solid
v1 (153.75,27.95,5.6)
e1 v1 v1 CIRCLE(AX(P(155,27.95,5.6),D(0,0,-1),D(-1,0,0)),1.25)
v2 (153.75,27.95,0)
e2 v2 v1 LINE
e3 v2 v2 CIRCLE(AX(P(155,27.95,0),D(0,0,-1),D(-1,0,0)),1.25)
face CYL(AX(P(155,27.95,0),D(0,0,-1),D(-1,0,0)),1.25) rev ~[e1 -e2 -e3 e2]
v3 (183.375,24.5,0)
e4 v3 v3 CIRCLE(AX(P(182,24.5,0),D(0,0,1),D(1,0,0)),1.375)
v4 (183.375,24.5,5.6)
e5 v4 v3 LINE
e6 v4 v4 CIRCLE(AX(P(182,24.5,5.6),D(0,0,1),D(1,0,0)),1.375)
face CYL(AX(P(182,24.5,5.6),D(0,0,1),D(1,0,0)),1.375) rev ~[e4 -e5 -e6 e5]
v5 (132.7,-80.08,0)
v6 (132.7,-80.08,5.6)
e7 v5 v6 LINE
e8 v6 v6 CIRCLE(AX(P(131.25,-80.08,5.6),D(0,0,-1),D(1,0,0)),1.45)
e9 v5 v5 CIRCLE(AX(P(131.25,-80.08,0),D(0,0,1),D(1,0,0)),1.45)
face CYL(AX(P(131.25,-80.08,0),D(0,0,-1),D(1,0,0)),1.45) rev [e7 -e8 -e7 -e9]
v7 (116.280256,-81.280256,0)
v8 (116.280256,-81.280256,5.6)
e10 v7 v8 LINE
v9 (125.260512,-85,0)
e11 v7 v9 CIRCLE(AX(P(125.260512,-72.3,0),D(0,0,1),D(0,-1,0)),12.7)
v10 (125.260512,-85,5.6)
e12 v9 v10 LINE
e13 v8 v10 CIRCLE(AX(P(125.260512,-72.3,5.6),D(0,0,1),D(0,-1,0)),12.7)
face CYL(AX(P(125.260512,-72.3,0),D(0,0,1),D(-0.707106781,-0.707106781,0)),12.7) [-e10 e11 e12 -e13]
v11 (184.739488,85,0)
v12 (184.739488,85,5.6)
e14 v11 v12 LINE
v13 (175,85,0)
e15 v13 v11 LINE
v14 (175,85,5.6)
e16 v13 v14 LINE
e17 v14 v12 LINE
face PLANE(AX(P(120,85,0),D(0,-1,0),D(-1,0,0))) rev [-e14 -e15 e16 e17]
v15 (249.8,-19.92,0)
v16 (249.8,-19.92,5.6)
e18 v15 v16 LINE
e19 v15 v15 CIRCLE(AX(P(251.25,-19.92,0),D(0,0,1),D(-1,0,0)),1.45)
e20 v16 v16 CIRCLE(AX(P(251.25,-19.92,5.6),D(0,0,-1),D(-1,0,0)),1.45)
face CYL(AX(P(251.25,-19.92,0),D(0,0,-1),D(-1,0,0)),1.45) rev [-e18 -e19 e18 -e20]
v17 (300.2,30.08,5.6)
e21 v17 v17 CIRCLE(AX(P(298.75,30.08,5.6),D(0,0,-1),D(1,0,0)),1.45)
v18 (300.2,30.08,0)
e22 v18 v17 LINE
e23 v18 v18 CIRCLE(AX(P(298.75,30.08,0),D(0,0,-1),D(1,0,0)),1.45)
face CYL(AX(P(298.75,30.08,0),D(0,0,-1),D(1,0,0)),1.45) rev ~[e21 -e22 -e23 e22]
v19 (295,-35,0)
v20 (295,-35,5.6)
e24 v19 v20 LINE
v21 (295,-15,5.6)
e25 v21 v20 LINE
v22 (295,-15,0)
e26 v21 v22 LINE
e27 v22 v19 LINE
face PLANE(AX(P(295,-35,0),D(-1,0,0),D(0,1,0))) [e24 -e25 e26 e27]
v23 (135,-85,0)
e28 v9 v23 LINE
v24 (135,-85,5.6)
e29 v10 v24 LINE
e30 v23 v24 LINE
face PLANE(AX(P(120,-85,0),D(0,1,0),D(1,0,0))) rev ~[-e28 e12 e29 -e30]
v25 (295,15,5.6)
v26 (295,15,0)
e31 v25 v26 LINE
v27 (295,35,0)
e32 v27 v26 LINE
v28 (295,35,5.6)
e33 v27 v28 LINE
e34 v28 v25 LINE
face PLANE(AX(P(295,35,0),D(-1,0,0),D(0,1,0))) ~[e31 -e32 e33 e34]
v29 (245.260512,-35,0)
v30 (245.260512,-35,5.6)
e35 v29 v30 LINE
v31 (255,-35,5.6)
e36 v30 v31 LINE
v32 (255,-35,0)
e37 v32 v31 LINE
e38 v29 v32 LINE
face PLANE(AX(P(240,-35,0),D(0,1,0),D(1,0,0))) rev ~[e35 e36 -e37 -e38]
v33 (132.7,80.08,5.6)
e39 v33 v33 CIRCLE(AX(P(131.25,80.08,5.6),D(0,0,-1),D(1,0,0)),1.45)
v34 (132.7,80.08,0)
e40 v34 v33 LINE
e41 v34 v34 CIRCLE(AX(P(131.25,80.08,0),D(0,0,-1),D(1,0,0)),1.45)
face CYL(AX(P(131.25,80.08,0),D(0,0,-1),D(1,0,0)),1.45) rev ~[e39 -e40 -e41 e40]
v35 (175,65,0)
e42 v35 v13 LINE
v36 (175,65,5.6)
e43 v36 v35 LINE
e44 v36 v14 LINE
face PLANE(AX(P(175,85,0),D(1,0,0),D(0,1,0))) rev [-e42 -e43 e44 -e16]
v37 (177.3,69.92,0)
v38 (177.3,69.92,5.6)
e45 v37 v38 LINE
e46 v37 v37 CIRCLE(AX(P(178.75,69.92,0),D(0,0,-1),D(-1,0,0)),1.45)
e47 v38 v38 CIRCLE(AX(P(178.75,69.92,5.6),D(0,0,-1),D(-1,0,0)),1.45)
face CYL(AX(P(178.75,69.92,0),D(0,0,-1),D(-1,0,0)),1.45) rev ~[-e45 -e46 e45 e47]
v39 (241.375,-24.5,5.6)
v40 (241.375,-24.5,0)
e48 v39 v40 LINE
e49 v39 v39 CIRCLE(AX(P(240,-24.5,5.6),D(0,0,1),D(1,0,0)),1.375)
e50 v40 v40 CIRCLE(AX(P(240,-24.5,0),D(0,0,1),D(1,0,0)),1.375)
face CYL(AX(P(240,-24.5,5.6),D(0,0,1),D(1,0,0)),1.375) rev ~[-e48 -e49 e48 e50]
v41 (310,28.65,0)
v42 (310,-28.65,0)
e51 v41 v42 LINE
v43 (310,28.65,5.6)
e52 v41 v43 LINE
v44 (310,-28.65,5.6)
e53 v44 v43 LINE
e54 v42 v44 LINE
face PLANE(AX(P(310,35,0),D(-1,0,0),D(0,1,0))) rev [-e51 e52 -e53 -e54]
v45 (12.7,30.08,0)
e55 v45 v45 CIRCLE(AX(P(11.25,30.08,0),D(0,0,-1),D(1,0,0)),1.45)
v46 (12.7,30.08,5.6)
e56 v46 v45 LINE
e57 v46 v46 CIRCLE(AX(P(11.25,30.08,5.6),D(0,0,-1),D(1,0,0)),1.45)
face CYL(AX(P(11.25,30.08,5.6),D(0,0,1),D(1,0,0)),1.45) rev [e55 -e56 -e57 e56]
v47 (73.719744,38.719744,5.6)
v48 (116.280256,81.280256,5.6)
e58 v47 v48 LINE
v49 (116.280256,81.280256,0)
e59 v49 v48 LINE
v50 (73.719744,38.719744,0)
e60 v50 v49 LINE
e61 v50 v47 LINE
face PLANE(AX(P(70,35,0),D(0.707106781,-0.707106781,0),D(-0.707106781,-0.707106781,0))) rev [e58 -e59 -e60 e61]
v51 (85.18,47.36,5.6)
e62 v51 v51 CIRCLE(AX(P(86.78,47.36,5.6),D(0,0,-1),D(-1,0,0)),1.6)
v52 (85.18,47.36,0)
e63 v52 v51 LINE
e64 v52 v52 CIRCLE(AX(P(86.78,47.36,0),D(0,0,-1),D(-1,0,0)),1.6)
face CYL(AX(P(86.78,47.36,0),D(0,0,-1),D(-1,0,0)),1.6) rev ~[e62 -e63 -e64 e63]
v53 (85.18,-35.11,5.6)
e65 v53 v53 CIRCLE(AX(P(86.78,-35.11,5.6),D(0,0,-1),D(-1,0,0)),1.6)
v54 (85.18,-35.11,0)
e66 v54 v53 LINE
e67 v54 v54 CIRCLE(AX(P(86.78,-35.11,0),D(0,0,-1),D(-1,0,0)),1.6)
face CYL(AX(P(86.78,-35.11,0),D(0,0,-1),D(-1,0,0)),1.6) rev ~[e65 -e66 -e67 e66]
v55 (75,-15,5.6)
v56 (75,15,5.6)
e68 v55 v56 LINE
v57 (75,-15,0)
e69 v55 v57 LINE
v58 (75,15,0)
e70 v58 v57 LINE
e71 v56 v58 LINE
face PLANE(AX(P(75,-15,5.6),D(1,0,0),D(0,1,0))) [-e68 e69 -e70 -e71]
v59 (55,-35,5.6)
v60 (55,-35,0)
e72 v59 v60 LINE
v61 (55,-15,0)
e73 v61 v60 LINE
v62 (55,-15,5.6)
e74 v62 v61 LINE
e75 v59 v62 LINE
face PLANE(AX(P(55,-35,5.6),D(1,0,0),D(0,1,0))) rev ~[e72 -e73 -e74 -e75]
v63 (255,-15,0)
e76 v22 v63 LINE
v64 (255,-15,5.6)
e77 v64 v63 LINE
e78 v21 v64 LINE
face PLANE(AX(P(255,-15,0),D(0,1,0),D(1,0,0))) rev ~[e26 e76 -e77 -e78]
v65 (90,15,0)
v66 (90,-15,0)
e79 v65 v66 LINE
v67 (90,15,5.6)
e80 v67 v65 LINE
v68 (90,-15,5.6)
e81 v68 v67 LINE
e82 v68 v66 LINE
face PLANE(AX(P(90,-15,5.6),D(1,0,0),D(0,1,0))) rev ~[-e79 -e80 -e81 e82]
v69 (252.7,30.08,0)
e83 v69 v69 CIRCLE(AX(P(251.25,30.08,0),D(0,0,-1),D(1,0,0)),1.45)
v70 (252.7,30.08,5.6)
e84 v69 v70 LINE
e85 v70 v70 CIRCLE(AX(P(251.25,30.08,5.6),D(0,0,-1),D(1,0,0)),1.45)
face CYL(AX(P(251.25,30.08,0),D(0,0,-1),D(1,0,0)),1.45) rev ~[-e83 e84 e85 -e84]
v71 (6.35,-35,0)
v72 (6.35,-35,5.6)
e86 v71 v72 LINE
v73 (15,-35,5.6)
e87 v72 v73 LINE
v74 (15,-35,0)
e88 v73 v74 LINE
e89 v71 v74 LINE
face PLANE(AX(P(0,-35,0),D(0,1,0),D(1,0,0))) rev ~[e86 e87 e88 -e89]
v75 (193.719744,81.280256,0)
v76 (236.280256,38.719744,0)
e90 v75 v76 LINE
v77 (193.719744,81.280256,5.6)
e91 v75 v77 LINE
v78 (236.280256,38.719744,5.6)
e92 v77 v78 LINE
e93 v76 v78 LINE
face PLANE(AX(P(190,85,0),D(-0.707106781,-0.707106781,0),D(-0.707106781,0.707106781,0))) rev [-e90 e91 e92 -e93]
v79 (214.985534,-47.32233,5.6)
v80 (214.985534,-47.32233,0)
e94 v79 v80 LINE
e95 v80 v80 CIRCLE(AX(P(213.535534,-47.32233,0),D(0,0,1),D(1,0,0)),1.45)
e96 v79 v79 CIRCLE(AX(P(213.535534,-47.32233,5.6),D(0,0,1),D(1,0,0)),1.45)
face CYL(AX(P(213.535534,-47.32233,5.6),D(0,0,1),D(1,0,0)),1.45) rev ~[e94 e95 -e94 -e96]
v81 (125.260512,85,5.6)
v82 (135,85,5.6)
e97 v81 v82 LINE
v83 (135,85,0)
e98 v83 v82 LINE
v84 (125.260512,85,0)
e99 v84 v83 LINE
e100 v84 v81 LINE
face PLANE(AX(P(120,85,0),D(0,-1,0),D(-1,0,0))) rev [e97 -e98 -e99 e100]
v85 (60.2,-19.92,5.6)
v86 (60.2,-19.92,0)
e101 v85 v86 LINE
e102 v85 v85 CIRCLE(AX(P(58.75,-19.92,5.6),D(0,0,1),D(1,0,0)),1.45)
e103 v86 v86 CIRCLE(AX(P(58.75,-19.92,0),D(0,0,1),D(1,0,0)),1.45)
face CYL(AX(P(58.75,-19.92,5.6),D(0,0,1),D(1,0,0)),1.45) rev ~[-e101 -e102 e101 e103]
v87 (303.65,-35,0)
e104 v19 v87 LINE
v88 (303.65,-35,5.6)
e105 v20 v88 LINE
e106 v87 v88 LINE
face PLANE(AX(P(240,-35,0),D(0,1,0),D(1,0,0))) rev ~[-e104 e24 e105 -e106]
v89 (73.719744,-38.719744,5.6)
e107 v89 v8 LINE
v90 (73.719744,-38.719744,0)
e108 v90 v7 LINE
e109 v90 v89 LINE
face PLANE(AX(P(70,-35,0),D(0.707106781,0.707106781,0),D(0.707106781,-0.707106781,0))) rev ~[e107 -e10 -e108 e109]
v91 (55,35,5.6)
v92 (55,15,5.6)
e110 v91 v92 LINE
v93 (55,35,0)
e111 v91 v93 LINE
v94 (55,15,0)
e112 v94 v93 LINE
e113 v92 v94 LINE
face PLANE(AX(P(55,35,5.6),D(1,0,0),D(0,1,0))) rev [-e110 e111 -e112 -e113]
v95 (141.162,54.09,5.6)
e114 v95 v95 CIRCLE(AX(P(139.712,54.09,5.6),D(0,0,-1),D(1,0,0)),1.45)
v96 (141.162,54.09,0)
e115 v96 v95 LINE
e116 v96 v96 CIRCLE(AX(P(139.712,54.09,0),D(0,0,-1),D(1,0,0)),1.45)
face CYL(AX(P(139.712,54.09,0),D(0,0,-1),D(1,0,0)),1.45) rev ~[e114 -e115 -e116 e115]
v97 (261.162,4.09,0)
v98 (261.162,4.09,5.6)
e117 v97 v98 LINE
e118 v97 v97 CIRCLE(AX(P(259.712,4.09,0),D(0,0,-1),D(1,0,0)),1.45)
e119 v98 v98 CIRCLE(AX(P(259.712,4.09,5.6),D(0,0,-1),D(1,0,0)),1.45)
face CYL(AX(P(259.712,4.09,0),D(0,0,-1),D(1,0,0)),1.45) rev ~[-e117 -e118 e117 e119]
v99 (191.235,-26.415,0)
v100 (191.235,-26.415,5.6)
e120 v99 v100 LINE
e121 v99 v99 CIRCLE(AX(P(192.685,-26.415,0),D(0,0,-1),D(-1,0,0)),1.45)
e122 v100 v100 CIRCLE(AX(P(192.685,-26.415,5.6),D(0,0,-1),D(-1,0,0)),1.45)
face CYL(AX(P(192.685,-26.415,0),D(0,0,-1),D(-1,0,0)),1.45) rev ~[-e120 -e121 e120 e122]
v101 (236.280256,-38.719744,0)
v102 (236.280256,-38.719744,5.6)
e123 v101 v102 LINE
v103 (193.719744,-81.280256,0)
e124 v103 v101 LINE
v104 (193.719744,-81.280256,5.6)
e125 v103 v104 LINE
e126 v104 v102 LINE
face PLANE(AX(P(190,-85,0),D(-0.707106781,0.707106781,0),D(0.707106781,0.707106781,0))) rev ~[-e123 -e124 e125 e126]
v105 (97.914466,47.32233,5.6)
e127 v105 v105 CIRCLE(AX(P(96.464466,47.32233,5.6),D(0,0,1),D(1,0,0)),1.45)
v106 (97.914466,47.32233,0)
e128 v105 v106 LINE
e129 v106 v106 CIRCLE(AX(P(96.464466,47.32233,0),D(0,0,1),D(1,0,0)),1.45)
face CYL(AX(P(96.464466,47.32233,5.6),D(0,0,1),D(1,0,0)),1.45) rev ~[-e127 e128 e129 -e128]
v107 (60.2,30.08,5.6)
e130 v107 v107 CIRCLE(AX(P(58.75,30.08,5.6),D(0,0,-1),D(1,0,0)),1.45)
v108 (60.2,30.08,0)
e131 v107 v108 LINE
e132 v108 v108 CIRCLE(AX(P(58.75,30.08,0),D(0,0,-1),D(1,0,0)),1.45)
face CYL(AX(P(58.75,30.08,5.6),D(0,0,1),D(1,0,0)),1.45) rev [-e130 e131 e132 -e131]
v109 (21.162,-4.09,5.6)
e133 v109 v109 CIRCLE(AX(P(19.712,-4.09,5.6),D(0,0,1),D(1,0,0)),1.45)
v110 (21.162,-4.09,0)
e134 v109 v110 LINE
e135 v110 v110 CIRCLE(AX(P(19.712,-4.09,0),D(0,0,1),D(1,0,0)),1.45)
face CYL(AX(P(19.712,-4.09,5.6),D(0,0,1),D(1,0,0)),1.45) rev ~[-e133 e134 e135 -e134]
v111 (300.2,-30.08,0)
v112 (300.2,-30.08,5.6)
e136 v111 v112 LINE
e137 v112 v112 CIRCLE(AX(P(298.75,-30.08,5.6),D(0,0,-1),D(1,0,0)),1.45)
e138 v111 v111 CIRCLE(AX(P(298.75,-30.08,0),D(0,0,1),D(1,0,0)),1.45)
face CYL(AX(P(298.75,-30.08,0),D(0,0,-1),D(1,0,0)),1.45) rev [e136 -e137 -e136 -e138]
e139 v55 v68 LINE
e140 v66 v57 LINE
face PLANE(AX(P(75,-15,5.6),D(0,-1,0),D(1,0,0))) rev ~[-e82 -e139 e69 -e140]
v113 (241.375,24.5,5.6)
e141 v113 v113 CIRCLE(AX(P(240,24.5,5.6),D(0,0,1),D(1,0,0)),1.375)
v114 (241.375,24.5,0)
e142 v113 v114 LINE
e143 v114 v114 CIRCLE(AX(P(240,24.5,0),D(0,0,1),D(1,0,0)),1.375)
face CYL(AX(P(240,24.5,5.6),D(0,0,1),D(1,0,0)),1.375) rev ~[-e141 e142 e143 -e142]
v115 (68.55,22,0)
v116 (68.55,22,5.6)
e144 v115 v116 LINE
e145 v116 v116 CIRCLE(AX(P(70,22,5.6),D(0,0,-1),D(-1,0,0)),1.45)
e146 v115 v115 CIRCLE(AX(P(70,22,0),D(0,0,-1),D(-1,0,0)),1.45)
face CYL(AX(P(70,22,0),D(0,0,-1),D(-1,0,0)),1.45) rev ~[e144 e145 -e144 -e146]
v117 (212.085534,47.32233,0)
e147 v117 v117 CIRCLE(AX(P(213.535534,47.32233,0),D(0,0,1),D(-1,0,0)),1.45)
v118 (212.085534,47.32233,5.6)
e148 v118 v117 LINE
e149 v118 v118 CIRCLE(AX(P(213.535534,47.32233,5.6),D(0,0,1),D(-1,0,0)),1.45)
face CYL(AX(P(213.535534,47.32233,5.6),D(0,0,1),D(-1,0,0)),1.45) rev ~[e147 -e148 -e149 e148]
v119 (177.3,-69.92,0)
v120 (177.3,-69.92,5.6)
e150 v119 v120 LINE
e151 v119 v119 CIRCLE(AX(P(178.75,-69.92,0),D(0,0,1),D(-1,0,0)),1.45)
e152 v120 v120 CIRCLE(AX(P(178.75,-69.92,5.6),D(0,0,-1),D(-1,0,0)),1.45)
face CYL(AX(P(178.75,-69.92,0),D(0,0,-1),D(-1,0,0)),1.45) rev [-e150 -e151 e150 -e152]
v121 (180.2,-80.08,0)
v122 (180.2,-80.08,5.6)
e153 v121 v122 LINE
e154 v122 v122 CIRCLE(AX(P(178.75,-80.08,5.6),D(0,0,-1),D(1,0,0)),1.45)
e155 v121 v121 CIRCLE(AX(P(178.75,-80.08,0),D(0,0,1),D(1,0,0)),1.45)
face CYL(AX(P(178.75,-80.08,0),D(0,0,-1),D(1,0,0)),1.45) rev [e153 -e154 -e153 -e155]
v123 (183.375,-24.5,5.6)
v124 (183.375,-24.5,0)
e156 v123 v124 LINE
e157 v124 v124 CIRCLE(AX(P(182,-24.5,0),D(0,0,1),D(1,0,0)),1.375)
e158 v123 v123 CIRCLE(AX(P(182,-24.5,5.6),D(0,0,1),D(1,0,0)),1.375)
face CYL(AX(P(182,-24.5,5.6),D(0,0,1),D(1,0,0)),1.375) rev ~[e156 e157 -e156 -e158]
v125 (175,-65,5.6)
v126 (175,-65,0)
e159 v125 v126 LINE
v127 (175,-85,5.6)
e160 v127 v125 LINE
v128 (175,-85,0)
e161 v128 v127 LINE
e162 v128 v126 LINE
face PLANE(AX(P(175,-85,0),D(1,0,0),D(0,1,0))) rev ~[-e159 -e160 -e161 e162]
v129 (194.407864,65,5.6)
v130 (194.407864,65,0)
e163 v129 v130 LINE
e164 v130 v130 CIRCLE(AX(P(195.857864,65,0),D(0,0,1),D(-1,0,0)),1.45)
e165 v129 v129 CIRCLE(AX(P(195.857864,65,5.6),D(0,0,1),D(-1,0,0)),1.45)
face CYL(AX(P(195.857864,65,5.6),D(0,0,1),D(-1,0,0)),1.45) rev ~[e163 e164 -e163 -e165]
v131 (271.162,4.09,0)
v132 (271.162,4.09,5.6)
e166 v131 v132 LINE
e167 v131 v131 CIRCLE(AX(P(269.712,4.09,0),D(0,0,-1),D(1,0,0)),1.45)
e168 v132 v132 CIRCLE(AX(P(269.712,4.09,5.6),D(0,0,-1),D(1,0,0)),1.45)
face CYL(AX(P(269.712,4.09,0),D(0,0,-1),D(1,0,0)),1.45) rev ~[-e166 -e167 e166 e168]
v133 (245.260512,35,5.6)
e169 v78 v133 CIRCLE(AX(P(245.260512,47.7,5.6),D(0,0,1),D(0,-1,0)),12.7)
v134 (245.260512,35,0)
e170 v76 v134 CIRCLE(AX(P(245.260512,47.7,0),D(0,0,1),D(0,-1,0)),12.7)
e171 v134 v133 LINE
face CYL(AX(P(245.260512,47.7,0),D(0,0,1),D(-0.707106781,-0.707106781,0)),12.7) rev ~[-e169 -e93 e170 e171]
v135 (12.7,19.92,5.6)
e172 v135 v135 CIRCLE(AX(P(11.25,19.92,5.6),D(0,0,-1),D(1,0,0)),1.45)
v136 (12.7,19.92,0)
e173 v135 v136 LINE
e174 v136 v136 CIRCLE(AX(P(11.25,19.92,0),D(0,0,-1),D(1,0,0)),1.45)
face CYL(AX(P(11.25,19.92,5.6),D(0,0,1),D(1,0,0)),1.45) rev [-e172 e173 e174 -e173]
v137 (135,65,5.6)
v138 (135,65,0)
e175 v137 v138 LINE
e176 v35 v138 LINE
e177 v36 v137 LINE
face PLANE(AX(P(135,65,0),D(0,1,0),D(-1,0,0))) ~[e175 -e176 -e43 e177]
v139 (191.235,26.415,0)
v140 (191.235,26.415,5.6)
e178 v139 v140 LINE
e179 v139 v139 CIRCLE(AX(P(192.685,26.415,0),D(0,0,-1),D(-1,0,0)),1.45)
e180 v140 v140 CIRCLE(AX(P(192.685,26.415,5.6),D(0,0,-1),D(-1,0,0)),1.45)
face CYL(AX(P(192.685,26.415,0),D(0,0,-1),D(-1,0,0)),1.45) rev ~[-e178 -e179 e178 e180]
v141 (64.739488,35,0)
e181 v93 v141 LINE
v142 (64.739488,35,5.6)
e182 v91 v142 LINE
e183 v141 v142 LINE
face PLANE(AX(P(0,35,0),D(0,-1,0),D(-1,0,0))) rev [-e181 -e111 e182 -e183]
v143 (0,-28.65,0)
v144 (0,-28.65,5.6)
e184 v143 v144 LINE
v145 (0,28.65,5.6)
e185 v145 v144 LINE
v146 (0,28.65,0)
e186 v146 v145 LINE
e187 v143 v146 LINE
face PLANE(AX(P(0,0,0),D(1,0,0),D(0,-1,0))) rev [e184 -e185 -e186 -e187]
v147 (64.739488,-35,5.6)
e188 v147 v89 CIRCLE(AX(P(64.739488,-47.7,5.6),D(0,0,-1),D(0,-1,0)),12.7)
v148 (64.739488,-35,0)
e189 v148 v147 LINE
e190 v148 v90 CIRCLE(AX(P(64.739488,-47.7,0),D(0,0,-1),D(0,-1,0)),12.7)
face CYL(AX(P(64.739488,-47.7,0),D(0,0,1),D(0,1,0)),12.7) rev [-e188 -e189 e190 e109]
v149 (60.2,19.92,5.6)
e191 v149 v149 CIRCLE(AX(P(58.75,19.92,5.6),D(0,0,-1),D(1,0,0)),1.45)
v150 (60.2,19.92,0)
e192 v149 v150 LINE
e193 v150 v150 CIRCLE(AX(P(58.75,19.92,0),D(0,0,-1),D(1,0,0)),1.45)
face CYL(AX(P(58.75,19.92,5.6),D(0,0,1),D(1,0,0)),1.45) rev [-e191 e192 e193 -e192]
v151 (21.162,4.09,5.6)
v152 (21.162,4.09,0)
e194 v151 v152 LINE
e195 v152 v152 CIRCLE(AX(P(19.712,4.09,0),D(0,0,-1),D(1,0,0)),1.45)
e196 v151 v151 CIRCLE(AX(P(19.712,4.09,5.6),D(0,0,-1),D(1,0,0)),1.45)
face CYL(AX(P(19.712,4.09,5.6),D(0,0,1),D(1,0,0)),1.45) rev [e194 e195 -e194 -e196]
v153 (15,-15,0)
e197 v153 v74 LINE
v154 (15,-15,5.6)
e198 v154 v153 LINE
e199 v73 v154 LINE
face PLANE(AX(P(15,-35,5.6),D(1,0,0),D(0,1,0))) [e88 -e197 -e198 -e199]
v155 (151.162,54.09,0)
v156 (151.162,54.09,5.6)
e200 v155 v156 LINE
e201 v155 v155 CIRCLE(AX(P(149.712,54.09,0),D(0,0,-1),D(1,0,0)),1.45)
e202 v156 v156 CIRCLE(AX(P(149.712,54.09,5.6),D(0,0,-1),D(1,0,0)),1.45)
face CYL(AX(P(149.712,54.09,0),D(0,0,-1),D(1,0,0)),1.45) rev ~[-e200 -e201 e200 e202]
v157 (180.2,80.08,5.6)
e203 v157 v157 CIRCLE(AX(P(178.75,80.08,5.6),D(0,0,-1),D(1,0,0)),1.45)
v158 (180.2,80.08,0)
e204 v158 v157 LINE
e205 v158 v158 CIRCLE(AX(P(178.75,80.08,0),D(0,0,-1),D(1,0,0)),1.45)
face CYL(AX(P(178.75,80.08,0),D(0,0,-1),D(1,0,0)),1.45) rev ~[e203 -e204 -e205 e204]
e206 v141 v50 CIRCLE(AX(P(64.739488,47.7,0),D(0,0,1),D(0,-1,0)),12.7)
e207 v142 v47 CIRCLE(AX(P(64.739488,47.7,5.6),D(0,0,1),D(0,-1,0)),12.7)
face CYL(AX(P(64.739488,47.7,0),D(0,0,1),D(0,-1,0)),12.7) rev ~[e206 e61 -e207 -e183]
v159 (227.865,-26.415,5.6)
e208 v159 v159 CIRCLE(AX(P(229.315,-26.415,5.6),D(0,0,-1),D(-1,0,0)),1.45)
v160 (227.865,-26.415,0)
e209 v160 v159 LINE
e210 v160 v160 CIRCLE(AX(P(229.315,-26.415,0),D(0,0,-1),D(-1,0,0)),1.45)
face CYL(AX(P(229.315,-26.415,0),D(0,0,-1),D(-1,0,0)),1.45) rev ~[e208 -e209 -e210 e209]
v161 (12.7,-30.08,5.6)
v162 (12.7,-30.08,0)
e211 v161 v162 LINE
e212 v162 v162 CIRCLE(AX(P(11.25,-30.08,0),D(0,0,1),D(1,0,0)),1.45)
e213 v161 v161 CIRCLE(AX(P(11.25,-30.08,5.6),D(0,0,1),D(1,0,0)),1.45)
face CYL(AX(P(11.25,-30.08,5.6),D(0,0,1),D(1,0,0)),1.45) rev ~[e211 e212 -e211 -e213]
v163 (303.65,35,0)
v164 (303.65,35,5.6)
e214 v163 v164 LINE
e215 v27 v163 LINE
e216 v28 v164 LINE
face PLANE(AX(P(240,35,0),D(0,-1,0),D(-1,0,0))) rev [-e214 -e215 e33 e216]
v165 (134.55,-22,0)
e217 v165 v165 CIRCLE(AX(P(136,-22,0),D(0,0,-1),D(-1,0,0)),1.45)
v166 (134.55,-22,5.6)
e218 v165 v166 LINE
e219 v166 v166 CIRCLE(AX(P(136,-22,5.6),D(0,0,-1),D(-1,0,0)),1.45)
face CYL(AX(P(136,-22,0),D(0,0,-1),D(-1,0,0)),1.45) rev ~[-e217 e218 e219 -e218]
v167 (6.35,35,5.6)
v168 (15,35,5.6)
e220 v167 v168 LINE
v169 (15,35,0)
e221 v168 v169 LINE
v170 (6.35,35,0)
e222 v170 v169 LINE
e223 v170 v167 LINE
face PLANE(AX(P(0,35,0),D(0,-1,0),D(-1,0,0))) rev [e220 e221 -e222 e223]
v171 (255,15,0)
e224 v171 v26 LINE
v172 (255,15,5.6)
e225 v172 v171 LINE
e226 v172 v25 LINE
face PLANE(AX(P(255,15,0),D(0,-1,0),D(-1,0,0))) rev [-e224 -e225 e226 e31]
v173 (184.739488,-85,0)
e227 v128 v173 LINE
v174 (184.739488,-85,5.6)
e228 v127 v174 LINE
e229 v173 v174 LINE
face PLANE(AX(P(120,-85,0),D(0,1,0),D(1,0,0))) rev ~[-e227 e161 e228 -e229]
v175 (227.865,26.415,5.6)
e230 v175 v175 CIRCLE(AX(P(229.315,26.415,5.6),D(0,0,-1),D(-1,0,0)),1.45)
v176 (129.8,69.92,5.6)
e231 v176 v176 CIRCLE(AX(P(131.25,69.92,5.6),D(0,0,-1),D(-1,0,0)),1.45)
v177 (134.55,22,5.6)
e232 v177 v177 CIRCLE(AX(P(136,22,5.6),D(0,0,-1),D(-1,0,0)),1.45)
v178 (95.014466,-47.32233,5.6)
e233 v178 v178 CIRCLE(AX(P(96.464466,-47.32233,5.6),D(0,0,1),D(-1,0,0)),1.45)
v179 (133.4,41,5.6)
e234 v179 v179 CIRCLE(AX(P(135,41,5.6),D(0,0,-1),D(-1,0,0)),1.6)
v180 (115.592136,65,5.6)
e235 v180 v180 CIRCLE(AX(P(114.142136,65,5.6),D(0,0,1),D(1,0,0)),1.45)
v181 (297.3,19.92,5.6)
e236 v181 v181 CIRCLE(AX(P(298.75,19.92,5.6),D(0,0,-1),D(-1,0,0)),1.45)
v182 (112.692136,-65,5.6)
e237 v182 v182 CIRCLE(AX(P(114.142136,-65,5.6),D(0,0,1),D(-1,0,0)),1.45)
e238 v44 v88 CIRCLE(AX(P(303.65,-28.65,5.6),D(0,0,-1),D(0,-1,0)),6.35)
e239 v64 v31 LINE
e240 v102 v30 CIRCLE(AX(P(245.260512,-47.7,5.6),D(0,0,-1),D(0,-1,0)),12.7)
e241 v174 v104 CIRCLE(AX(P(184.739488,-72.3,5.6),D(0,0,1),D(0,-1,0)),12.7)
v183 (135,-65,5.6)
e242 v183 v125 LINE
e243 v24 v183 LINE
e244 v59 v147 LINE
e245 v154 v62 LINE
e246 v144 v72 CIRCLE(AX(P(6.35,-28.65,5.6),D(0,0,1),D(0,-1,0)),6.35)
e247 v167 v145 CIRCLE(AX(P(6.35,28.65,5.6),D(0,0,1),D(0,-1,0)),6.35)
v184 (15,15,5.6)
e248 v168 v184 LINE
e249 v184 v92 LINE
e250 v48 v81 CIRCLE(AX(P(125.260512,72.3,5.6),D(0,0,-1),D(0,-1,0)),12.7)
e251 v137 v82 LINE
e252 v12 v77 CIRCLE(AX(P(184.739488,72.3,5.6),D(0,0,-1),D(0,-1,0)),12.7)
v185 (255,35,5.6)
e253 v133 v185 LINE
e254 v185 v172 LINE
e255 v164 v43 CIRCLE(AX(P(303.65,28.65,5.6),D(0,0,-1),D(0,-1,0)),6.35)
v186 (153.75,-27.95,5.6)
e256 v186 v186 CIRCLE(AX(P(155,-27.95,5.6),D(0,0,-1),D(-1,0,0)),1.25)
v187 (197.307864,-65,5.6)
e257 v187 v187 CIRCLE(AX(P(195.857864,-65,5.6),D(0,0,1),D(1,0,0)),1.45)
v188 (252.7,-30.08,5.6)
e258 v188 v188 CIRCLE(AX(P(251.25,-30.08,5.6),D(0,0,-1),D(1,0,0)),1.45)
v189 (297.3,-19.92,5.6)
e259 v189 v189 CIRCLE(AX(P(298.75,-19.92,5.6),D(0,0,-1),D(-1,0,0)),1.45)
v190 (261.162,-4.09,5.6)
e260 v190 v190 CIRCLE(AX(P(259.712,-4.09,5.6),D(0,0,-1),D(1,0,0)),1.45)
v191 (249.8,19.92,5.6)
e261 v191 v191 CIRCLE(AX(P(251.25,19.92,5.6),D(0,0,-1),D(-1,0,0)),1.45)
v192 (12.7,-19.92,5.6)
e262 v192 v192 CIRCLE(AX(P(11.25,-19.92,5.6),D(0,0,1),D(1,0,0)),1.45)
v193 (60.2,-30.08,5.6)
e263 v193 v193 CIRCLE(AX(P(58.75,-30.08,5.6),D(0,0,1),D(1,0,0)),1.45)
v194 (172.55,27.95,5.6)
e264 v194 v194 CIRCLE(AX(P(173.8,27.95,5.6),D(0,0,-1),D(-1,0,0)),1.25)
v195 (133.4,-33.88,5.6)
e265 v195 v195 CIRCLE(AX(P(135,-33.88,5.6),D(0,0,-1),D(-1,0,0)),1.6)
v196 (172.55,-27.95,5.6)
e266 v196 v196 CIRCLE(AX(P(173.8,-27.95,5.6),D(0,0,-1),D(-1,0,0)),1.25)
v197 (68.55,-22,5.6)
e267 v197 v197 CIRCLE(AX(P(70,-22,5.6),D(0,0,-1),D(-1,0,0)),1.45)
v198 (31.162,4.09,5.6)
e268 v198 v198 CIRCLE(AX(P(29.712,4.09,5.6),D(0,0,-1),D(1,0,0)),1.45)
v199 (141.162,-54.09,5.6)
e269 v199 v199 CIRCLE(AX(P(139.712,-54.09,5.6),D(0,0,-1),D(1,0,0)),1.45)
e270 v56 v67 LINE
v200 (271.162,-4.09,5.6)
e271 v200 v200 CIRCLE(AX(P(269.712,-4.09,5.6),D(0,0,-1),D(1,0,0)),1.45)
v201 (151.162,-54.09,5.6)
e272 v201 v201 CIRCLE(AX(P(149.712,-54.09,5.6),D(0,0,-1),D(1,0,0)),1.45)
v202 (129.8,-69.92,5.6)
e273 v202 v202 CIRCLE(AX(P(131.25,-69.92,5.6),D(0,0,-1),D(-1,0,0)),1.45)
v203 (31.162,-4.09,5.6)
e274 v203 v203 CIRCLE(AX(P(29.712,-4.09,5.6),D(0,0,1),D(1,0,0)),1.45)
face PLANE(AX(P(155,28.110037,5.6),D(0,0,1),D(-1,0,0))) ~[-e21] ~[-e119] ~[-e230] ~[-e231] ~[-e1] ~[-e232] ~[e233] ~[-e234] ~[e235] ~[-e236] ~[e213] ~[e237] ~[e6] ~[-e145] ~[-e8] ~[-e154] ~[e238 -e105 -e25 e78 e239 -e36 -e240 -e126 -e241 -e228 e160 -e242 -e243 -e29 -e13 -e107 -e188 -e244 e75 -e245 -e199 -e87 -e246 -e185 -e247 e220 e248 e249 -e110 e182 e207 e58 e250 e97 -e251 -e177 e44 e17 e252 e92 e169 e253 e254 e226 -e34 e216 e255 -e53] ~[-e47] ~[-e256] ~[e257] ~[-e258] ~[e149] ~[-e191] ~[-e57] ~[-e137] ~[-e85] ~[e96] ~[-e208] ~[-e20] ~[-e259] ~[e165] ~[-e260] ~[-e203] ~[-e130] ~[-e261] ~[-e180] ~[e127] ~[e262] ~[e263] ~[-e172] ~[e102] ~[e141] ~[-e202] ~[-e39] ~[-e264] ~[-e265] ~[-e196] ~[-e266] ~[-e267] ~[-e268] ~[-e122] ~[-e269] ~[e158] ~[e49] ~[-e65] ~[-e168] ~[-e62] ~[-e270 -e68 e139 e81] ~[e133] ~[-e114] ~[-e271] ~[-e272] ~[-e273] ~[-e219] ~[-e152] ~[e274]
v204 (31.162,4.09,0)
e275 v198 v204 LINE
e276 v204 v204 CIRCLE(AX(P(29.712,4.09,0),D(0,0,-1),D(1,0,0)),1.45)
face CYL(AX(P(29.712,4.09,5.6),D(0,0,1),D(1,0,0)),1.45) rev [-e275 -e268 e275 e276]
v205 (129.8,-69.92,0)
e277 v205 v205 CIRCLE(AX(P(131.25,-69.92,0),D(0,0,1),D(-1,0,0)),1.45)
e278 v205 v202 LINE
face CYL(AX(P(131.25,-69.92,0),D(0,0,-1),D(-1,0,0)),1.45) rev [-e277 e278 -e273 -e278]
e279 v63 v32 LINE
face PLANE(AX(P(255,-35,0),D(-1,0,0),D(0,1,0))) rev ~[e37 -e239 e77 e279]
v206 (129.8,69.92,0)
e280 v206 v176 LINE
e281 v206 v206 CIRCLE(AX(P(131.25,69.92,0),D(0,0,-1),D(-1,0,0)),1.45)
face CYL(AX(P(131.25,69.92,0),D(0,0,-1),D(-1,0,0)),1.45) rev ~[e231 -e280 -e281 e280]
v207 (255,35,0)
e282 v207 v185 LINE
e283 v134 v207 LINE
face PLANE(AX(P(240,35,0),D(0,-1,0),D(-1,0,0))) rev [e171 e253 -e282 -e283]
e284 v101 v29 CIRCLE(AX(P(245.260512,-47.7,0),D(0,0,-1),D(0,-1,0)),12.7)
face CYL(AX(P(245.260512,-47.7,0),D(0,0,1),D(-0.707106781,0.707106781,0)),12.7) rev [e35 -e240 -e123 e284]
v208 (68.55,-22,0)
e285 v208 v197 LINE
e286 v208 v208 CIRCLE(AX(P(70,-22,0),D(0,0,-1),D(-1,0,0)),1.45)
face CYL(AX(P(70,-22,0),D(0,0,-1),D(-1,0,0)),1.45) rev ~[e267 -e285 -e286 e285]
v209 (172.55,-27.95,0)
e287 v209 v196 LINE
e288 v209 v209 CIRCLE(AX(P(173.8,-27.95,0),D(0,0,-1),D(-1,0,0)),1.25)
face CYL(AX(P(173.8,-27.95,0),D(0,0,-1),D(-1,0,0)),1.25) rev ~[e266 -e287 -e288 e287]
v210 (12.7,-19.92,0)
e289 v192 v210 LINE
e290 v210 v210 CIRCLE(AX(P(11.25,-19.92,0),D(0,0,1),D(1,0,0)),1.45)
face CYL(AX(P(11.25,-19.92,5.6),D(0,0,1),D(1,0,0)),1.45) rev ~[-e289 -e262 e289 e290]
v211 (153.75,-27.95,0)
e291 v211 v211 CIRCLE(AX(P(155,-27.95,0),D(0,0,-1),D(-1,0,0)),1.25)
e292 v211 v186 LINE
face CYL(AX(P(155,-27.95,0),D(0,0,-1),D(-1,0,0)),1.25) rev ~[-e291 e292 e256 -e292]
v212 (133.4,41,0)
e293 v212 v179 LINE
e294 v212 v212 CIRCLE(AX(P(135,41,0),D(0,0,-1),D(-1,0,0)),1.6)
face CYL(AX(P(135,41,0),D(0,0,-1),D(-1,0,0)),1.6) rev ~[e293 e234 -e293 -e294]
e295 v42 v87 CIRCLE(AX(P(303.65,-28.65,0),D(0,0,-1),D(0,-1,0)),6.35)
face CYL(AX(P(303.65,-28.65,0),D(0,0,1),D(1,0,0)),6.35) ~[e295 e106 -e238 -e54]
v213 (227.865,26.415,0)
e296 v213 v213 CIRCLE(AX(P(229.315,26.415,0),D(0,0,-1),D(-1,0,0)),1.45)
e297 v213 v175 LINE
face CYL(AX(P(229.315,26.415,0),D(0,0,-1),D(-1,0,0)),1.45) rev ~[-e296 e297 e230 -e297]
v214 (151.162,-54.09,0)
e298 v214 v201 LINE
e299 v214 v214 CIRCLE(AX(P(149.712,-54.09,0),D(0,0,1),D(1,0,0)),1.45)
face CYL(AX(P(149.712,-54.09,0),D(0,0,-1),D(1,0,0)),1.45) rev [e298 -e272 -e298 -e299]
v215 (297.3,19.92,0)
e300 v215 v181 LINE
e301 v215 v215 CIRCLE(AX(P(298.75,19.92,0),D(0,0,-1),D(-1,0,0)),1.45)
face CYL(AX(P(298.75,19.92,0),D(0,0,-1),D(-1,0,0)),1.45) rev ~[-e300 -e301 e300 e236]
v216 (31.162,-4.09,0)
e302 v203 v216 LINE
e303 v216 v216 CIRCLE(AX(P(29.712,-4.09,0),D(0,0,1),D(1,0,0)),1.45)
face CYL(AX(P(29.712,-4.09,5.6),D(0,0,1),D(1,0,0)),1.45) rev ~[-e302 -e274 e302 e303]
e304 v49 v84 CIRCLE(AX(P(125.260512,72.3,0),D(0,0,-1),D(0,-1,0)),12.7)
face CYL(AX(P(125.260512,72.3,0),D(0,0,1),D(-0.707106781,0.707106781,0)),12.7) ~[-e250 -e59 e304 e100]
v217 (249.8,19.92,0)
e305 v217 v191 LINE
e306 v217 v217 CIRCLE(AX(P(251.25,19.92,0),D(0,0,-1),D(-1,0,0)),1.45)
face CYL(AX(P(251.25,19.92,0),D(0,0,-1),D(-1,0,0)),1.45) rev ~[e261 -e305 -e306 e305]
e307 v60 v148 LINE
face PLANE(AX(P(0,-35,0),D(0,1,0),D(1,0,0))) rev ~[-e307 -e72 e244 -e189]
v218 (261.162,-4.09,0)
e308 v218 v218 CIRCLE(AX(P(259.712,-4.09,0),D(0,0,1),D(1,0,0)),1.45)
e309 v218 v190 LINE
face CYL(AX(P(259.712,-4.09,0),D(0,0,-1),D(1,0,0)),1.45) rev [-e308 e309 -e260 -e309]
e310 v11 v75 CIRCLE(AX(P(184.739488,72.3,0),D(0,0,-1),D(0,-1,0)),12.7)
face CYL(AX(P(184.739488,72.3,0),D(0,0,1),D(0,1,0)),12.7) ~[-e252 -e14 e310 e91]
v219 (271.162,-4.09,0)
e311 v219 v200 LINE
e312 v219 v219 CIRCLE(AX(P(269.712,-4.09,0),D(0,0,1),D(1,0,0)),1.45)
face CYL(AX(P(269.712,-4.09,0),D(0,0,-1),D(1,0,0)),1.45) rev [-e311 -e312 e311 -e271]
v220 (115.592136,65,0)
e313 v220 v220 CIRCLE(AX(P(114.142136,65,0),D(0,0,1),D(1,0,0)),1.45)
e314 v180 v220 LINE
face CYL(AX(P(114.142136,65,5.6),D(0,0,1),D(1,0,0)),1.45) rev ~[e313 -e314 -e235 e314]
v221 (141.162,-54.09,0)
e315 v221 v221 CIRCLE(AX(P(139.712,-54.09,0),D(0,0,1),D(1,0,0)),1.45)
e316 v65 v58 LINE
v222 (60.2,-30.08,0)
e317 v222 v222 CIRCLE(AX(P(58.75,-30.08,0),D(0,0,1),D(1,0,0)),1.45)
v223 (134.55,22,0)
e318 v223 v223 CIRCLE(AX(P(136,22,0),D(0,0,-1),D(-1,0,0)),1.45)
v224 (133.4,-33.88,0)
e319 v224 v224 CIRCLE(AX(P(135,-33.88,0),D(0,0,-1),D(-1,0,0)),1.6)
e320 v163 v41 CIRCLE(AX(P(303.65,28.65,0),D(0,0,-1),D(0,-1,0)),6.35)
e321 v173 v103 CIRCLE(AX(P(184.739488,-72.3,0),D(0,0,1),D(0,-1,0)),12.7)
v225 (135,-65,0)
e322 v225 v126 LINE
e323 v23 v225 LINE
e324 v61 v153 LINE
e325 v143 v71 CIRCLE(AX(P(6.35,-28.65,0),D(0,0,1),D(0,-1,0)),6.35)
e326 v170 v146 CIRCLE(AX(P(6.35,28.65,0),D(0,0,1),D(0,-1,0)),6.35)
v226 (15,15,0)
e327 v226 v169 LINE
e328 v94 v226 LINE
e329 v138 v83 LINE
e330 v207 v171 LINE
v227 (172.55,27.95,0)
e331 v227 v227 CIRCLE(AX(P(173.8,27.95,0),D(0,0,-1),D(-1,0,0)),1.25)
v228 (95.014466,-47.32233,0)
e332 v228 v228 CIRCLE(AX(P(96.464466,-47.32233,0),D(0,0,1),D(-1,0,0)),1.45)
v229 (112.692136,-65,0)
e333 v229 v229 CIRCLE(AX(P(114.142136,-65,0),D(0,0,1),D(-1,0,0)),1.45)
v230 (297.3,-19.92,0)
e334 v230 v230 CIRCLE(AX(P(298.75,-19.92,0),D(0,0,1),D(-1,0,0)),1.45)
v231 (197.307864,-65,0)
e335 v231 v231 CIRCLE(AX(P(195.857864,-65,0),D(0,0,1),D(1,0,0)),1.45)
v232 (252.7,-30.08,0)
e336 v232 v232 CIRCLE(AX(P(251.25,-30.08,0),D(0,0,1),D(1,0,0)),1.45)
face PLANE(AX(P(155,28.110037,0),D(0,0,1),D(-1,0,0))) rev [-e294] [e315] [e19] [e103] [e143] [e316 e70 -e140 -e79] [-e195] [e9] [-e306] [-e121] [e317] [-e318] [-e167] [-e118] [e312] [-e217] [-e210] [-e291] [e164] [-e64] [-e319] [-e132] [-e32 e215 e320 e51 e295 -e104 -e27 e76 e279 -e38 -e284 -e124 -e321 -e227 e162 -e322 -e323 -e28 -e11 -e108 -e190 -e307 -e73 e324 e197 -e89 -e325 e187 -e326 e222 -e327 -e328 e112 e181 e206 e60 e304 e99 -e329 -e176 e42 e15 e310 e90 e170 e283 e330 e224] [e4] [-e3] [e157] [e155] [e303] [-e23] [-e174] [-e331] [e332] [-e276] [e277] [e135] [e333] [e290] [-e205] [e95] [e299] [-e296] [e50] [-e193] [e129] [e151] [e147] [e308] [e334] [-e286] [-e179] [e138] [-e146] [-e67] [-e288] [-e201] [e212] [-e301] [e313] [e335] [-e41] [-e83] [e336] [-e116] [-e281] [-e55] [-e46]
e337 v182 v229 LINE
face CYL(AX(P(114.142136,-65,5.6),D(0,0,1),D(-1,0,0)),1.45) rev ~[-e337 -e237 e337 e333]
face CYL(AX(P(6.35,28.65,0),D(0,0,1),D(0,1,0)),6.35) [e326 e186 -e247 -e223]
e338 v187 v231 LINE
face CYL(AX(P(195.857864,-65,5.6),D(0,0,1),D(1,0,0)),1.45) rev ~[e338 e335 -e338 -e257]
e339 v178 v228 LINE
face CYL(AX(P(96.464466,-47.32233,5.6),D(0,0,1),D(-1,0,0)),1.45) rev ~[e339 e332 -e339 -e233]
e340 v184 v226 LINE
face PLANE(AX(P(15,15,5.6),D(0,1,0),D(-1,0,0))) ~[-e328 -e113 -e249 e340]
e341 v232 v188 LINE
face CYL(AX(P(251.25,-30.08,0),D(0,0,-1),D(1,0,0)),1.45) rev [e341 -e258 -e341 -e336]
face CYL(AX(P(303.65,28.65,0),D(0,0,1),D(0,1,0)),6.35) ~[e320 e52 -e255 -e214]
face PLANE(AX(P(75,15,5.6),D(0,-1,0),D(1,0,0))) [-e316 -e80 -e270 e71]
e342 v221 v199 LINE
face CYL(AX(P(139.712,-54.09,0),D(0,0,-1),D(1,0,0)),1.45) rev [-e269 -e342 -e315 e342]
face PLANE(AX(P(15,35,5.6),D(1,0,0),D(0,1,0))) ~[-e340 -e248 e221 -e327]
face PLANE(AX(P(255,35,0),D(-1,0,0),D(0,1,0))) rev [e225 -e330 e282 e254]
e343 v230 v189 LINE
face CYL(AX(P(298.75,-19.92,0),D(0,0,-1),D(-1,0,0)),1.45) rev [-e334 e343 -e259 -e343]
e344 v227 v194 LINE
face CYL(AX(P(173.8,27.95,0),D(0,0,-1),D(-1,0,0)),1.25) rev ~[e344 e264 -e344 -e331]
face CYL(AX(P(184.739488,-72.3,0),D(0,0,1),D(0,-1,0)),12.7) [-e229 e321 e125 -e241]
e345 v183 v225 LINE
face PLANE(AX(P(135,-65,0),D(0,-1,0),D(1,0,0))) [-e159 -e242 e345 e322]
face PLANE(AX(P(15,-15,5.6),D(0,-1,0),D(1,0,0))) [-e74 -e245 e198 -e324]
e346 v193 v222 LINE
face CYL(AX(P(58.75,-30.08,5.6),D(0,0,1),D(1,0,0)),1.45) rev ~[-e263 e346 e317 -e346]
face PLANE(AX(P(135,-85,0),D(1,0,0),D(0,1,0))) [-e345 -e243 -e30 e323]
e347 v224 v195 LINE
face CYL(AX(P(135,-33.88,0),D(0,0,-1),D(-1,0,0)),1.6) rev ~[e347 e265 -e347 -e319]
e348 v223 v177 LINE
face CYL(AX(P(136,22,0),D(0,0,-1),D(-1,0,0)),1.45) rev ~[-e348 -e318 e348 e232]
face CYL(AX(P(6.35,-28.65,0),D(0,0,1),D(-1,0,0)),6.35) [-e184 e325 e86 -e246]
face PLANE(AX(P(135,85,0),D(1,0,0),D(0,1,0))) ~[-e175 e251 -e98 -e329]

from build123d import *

# Parameters (mm, degrees)
BOSS_EXTRU_1_DEPTH       = 5.6
ENL_V_MAT_EXTRU_1_REACH  = 323.491
ESQUISSE2_W              = 40
ESQUISSE2_H              = 20
ENL_V_MAT_EXTRU_2_REACH  = 323.491
ESQUISSE3_R              = 1.45
SKETCH2_W                = 40
SKETCH2_H                = 20
CUT_EXTRUDE2_DEPTH       = 322.490839683
SKETCH5_R                = 1.45
CUT_EXTRUDE4_DEPTH       = 322.490839683
ESQUISSE4_R              = 1.375
ENL_V_MAT_EXTRU_4_DEPTH  = 322.490839683
ESQUISSE6_R              = 1.45
ENL_V_MAT_EXTRU_6_DEPTH  = 322.490839683
ESQUISSE8_R              = 1.25
ENL_V_MAT_EXTRU_7_DEPTH  = 322.490839683
ESQUISSE9_R              = 1.6
ENL_V_MAT_EXTRU_8_DEPTH  = 322.490839683
SKETCH6_W                = 15
SKETCH6_H                = 30
CUT_EXTRUDE5_DEPTH       = 10
SKETCH7_R                = 1.45
CUT_EXTRUDE6_DEPTH       = 5.6
ESQUISSE12_R             = 1.45
ENL_V_MAT_EXTRU_11_DEPTH = 322.490839683
FILLET1_R                = 6.35
FILLET2_R                = 12.7


with BuildPart() as part:
    # Esquisse1 → Boss.-Extru.1 (new body)
    with BuildSketch(Plane.XY):
        Polygon((70, -35), (120, -85), (190, -85), (240, -35), (310, -35), (310, 0), (25.838605695, 0), (0, 0), (0, -35), align=None)
    boss_extru_1 = extrude(amount=BOSS_EXTRU_1_DEPTH)

    # Esquisse2 → Enlèv. mat.-Extru.1 (cut, up to next)
    with BuildSketch(Plane.XY.offset(5.6), mode=Mode.PRIVATE) as enl_v_mat_extru_1_sk1:
        with Locations((35, -25)):
            Rectangle(ESQUISSE2_W, ESQUISSE2_H)
    enl_v_mat_extru_1_tool1 = extrude(enl_v_mat_extru_1_sk1.sketch, amount=-ENL_V_MAT_EXTRU_1_REACH, mode=Mode.PRIVATE) & part.part
    enl_v_mat_extru_1 = enl_v_mat_extru_1_tool1.solids().sort_by_distance((35, -25, 5.6))[0]
    add(enl_v_mat_extru_1, mode=Mode.SUBTRACT)

    # Esquisse3 → Enlèv. mat.-Extru.2 (cut, up to next)
    with BuildSketch(Plane.XY.offset(5.6), mode=Mode.PRIVATE) as enl_v_mat_extru_2_sk1:
        with Locations((11.25, -30.08)):
            Circle(ESQUISSE3_R)
    enl_v_mat_extru_2_tool1 = extrude(enl_v_mat_extru_2_sk1.sketch, amount=-ENL_V_MAT_EXTRU_2_REACH, mode=Mode.PRIVATE) & part.part
    # Esquisse3 → Enlèv. mat.-Extru.2 (cut, up to next)
    with BuildSketch(Plane.XY.offset(5.6), mode=Mode.PRIVATE) as enl_v_mat_extru_2_sk2:
        with Locations((58.75, -30.08)):
            Circle(ESQUISSE3_R)
    enl_v_mat_extru_2_tool2 = extrude(enl_v_mat_extru_2_sk2.sketch, amount=-ENL_V_MAT_EXTRU_2_REACH, mode=Mode.PRIVATE) & part.part
    # Esquisse3 → Enlèv. mat.-Extru.2 (cut, up to next)
    with BuildSketch(Plane.XY.offset(5.6), mode=Mode.PRIVATE) as enl_v_mat_extru_2_sk3:
        with Locations((58.75, -19.92)):
            Circle(ESQUISSE3_R)
    enl_v_mat_extru_2_tool3 = extrude(enl_v_mat_extru_2_sk3.sketch, amount=-ENL_V_MAT_EXTRU_2_REACH, mode=Mode.PRIVATE) & part.part
    # Esquisse3 → Enlèv. mat.-Extru.2 (cut, up to next)
    with BuildSketch(Plane.XY.offset(5.6), mode=Mode.PRIVATE) as enl_v_mat_extru_2_sk4:
        with Locations((11.25, -19.92)):
            Circle(ESQUISSE3_R)
    enl_v_mat_extru_2_tool4 = extrude(enl_v_mat_extru_2_sk4.sketch, amount=-ENL_V_MAT_EXTRU_2_REACH, mode=Mode.PRIVATE) & part.part
    # Esquisse3 → Enlèv. mat.-Extru.2 (cut, up to next)
    with BuildSketch(Plane.XY.offset(5.6), mode=Mode.PRIVATE) as enl_v_mat_extru_2_sk5:
        with Locations((19.712, -4.09)):
            Circle(ESQUISSE3_R)
    enl_v_mat_extru_2_tool5 = extrude(enl_v_mat_extru_2_sk5.sketch, amount=-ENL_V_MAT_EXTRU_2_REACH, mode=Mode.PRIVATE) & part.part
    # Esquisse3 → Enlèv. mat.-Extru.2 (cut, up to next)
    with BuildSketch(Plane.XY.offset(5.6), mode=Mode.PRIVATE) as enl_v_mat_extru_2_sk6:
        with Locations((29.712, -4.09)):
            Circle(ESQUISSE3_R)
    enl_v_mat_extru_2_tool6 = extrude(enl_v_mat_extru_2_sk6.sketch, amount=-ENL_V_MAT_EXTRU_2_REACH, mode=Mode.PRIVATE) & part.part
    enl_v_mat_extru_2_1 = enl_v_mat_extru_2_tool1.solids().sort_by_distance((11.25, -30.08, 5.6))[0]
    add(enl_v_mat_extru_2_1, mode=Mode.SUBTRACT)
    enl_v_mat_extru_2_2 = enl_v_mat_extru_2_tool2.solids().sort_by_distance((58.75, -30.08, 5.6))[0]
    add(enl_v_mat_extru_2_2, mode=Mode.SUBTRACT)
    enl_v_mat_extru_2_3 = enl_v_mat_extru_2_tool3.solids().sort_by_distance((58.75, -19.92, 5.6))[0]
    add(enl_v_mat_extru_2_3, mode=Mode.SUBTRACT)
    enl_v_mat_extru_2_4 = enl_v_mat_extru_2_tool4.solids().sort_by_distance((11.25, -19.92, 5.6))[0]
    add(enl_v_mat_extru_2_4, mode=Mode.SUBTRACT)
    enl_v_mat_extru_2_5 = enl_v_mat_extru_2_tool5.solids().sort_by_distance((19.712, -4.09, 5.6))[0]
    add(enl_v_mat_extru_2_5, mode=Mode.SUBTRACT)
    enl_v_mat_extru_2_6 = enl_v_mat_extru_2_tool6.solids().sort_by_distance((29.712, -4.09, 5.6))[0]
    add(enl_v_mat_extru_2_6, mode=Mode.SUBTRACT)
    enl_v_mat_extru_2 = enl_v_mat_extru_2_1 + enl_v_mat_extru_2_2 + enl_v_mat_extru_2_3 + enl_v_mat_extru_2_4 + enl_v_mat_extru_2_5 + enl_v_mat_extru_2_6  # Enlèv. mat.-Extru.2 as one shape, for the pattern or mirror that repeats it

    # Sketch2 → Cut-Extrude2 (cut, symmetric)
    with BuildSketch(Plane.XY):
        with Locations((275, -25)):
            Rectangle(SKETCH2_W, SKETCH2_H)
        with Locations((155, -75)):
            Rectangle(SKETCH2_W, SKETCH2_H)
    cut_extrude2 = extrude(amount=CUT_EXTRUDE2_DEPTH, both=True, mode=Mode.SUBTRACT)

    # Sketch5 → Cut-Extrude4 (cut, through all)
    with BuildSketch(Plane.XY):
        with Locations((131.25, -80.08)):
            Circle(SKETCH5_R)
        with Locations((178.75, -80.08)):
            Circle(SKETCH5_R)
        with Locations(Location((178.75, -69.92, 0), (0, 0, 180))):
            Circle(SKETCH5_R)
        with Locations(Location((131.25, -69.92, 0), (0, 0, 180))):
            Circle(SKETCH5_R)
        with Locations((251.25, -30.08)):
            Circle(SKETCH5_R)
        with Locations((298.75, -30.08)):
            Circle(SKETCH5_R)
        with Locations(Location((298.75, -19.92, 0), (0, 0, 180))):
            Circle(SKETCH5_R)
        with Locations(Location((251.25, -19.92, 0), (0, 0, 180))):
            Circle(SKETCH5_R)
        with Locations((139.712, -54.09)):
            Circle(SKETCH5_R)
        with Locations((149.712, -54.09)):
            Circle(SKETCH5_R)
        with Locations((259.712, -4.09)):
            Circle(SKETCH5_R)
        with Locations((269.712, -4.09)):
            Circle(SKETCH5_R)
    cut_extrude4 = extrude(amount=CUT_EXTRUDE4_DEPTH, mode=Mode.SUBTRACT)

    # Mirror1: Boss.-Extru.1, Enlèv. mat.-Extru.1, Enlèv. mat.-Extru.2, Cut-Extrude2, Cut-Extrude4 across plane
    add(boss_extru_1.mirror(Plane.ZX))
    add(enl_v_mat_extru_1.mirror(Plane.ZX), mode=Mode.SUBTRACT)
    add(enl_v_mat_extru_2.mirror(Plane.ZX), mode=Mode.SUBTRACT)
    add(cut_extrude2.mirror(Plane.ZX), mode=Mode.SUBTRACT)
    add(cut_extrude4.mirror(Plane.ZX), mode=Mode.SUBTRACT)

    # Esquisse4 → Enlèv. mat.-Extru.4 (cut, through all)
    with BuildSketch(Plane.XY.offset(5.6)):
        with Locations((182, -24.5)):
            Circle(ESQUISSE4_R)
        with Locations((240, -24.5)):
            Circle(ESQUISSE4_R)
        with Locations((240, 24.5)):
            Circle(ESQUISSE4_R)
        with Locations((182, 24.5)):
            Circle(ESQUISSE4_R)
    extrude(amount=-ENL_V_MAT_EXTRU_4_DEPTH, mode=Mode.SUBTRACT)

    # Esquisse6 → Enlèv. mat.-Extru.6 (cut, through all)
    with BuildSketch(Plane(origin=(0, 0, 0), x_dir=(-1, 0, 0), z_dir=(0, 0, -1))):
        with Locations((-192.685, -26.415)):
            Circle(ESQUISSE6_R)
        with Locations((-229.315, -26.415)):
            Circle(ESQUISSE6_R)
        with Locations((-229.315, 26.415)):
            Circle(ESQUISSE6_R)
        with Locations((-192.685, 26.415)):
            Circle(ESQUISSE6_R)
    extrude(amount=-ENL_V_MAT_EXTRU_6_DEPTH, mode=Mode.SUBTRACT)

    # Esquisse8 → Enlèv. mat.-Extru.7 (cut, through all)
    with BuildSketch(Plane(origin=(0, 0, 0), x_dir=(-1, 0, 0), z_dir=(0, 0, -1))):
        with Locations((-155, 27.95)):
            Circle(ESQUISSE8_R)
        with Locations((-173.8, 27.95)):
            Circle(ESQUISSE8_R)
        with Locations((-173.8, -27.95)):
            Circle(ESQUISSE8_R)
        with Locations((-155, -27.95)):
            Circle(ESQUISSE8_R)
    extrude(amount=-ENL_V_MAT_EXTRU_7_DEPTH, mode=Mode.SUBTRACT)

    # Esquisse9 → Enlèv. mat.-Extru.8 (cut, through all)
    with BuildSketch(Plane(origin=(0, 0, 0), x_dir=(-1, 0, 0), z_dir=(0, 0, -1))):
        with Locations((-135, -33.88)):
            Circle(ESQUISSE9_R)
        with Locations((-86.78, -35.11)):
            Circle(ESQUISSE9_R)
        with Locations((-86.78, 47.36)):
            Circle(ESQUISSE9_R)
        with Locations((-135, 41)):
            Circle(ESQUISSE9_R)
    extrude(amount=-ENL_V_MAT_EXTRU_8_DEPTH, mode=Mode.SUBTRACT)

    # Sketch6 → Cut-Extrude5 (cut)
    with BuildSketch(Plane.XY.offset(5.6)):
        with Locations((82.5, 0)):
            Rectangle(SKETCH6_W, SKETCH6_H)
    extrude(amount=-CUT_EXTRUDE5_DEPTH, mode=Mode.SUBTRACT)

    # Sketch7 → Cut-Extrude6 (cut)
    with BuildSketch(Plane(origin=(0, 0, 0), x_dir=(-1, 0, 0), z_dir=(0, 0, -1))):
        with Locations((-70, -22)):
            Circle(SKETCH7_R)
        with Locations((-136, -22)):
            Circle(SKETCH7_R)
        with Locations((-136, 22)):
            Circle(SKETCH7_R)
        with Locations((-70, 22)):
            Circle(SKETCH7_R)
    extrude(amount=-CUT_EXTRUDE6_DEPTH, mode=Mode.SUBTRACT)

    # Esquisse12 → Enlèv. mat.-Extru.11 (cut, through all)
    with BuildSketch(Plane.XY.offset(5.6)):
        with Locations((114.142135624, 65)):
            Circle(ESQUISSE12_R)
        with Locations((96.464466094, 47.32233047)):
            Circle(ESQUISSE12_R)
        with Locations(Location((213.535533906, 47.32233047, 0), (0, 0, 180))):
            Circle(ESQUISSE12_R)
        with Locations(Location((195.857864376, 65, 0), (0, 0, 180))):
            Circle(ESQUISSE12_R)
        with Locations((213.535533906, -47.32233047)):
            Circle(ESQUISSE12_R)
        with Locations((195.857864376, -65)):
            Circle(ESQUISSE12_R)
        with Locations(Location((114.142135624, -65, 0), (0, 0, 180))):
            Circle(ESQUISSE12_R)
        with Locations(Location((96.464466094, -47.32233047, 0), (0, 0, 180))):
            Circle(ESQUISSE12_R)
    extrude(amount=-ENL_V_MAT_EXTRU_11_DEPTH, mode=Mode.SUBTRACT)

    # Fillet1
    fillet1_edges = [part.edges().sort_by_distance(p)[0] for p in [
        (0, 35, 2.8),
        (310, 35, 2.8),
        (0, -35, 2.8),
        (310, -35, 2.8),
    ]]
    fillet(fillet1_edges, radius=FILLET1_R)

    # Fillet2
    fillet2_edges = [part.edges().sort_by_distance(p)[0] for p in [
        (70, 35, 2.8),
        (240, 35, 2.8),
        (190, 85, 2.8),
        (120, 85, 2.8),
        (240, -35, 2.8),
        (190, -85, 2.8),
        (120, -85, 2.8),
        (70, -35, 2.8),
    ]]
    fillet(fillet2_edges, radius=FILLET2_R)


solid = part.part
